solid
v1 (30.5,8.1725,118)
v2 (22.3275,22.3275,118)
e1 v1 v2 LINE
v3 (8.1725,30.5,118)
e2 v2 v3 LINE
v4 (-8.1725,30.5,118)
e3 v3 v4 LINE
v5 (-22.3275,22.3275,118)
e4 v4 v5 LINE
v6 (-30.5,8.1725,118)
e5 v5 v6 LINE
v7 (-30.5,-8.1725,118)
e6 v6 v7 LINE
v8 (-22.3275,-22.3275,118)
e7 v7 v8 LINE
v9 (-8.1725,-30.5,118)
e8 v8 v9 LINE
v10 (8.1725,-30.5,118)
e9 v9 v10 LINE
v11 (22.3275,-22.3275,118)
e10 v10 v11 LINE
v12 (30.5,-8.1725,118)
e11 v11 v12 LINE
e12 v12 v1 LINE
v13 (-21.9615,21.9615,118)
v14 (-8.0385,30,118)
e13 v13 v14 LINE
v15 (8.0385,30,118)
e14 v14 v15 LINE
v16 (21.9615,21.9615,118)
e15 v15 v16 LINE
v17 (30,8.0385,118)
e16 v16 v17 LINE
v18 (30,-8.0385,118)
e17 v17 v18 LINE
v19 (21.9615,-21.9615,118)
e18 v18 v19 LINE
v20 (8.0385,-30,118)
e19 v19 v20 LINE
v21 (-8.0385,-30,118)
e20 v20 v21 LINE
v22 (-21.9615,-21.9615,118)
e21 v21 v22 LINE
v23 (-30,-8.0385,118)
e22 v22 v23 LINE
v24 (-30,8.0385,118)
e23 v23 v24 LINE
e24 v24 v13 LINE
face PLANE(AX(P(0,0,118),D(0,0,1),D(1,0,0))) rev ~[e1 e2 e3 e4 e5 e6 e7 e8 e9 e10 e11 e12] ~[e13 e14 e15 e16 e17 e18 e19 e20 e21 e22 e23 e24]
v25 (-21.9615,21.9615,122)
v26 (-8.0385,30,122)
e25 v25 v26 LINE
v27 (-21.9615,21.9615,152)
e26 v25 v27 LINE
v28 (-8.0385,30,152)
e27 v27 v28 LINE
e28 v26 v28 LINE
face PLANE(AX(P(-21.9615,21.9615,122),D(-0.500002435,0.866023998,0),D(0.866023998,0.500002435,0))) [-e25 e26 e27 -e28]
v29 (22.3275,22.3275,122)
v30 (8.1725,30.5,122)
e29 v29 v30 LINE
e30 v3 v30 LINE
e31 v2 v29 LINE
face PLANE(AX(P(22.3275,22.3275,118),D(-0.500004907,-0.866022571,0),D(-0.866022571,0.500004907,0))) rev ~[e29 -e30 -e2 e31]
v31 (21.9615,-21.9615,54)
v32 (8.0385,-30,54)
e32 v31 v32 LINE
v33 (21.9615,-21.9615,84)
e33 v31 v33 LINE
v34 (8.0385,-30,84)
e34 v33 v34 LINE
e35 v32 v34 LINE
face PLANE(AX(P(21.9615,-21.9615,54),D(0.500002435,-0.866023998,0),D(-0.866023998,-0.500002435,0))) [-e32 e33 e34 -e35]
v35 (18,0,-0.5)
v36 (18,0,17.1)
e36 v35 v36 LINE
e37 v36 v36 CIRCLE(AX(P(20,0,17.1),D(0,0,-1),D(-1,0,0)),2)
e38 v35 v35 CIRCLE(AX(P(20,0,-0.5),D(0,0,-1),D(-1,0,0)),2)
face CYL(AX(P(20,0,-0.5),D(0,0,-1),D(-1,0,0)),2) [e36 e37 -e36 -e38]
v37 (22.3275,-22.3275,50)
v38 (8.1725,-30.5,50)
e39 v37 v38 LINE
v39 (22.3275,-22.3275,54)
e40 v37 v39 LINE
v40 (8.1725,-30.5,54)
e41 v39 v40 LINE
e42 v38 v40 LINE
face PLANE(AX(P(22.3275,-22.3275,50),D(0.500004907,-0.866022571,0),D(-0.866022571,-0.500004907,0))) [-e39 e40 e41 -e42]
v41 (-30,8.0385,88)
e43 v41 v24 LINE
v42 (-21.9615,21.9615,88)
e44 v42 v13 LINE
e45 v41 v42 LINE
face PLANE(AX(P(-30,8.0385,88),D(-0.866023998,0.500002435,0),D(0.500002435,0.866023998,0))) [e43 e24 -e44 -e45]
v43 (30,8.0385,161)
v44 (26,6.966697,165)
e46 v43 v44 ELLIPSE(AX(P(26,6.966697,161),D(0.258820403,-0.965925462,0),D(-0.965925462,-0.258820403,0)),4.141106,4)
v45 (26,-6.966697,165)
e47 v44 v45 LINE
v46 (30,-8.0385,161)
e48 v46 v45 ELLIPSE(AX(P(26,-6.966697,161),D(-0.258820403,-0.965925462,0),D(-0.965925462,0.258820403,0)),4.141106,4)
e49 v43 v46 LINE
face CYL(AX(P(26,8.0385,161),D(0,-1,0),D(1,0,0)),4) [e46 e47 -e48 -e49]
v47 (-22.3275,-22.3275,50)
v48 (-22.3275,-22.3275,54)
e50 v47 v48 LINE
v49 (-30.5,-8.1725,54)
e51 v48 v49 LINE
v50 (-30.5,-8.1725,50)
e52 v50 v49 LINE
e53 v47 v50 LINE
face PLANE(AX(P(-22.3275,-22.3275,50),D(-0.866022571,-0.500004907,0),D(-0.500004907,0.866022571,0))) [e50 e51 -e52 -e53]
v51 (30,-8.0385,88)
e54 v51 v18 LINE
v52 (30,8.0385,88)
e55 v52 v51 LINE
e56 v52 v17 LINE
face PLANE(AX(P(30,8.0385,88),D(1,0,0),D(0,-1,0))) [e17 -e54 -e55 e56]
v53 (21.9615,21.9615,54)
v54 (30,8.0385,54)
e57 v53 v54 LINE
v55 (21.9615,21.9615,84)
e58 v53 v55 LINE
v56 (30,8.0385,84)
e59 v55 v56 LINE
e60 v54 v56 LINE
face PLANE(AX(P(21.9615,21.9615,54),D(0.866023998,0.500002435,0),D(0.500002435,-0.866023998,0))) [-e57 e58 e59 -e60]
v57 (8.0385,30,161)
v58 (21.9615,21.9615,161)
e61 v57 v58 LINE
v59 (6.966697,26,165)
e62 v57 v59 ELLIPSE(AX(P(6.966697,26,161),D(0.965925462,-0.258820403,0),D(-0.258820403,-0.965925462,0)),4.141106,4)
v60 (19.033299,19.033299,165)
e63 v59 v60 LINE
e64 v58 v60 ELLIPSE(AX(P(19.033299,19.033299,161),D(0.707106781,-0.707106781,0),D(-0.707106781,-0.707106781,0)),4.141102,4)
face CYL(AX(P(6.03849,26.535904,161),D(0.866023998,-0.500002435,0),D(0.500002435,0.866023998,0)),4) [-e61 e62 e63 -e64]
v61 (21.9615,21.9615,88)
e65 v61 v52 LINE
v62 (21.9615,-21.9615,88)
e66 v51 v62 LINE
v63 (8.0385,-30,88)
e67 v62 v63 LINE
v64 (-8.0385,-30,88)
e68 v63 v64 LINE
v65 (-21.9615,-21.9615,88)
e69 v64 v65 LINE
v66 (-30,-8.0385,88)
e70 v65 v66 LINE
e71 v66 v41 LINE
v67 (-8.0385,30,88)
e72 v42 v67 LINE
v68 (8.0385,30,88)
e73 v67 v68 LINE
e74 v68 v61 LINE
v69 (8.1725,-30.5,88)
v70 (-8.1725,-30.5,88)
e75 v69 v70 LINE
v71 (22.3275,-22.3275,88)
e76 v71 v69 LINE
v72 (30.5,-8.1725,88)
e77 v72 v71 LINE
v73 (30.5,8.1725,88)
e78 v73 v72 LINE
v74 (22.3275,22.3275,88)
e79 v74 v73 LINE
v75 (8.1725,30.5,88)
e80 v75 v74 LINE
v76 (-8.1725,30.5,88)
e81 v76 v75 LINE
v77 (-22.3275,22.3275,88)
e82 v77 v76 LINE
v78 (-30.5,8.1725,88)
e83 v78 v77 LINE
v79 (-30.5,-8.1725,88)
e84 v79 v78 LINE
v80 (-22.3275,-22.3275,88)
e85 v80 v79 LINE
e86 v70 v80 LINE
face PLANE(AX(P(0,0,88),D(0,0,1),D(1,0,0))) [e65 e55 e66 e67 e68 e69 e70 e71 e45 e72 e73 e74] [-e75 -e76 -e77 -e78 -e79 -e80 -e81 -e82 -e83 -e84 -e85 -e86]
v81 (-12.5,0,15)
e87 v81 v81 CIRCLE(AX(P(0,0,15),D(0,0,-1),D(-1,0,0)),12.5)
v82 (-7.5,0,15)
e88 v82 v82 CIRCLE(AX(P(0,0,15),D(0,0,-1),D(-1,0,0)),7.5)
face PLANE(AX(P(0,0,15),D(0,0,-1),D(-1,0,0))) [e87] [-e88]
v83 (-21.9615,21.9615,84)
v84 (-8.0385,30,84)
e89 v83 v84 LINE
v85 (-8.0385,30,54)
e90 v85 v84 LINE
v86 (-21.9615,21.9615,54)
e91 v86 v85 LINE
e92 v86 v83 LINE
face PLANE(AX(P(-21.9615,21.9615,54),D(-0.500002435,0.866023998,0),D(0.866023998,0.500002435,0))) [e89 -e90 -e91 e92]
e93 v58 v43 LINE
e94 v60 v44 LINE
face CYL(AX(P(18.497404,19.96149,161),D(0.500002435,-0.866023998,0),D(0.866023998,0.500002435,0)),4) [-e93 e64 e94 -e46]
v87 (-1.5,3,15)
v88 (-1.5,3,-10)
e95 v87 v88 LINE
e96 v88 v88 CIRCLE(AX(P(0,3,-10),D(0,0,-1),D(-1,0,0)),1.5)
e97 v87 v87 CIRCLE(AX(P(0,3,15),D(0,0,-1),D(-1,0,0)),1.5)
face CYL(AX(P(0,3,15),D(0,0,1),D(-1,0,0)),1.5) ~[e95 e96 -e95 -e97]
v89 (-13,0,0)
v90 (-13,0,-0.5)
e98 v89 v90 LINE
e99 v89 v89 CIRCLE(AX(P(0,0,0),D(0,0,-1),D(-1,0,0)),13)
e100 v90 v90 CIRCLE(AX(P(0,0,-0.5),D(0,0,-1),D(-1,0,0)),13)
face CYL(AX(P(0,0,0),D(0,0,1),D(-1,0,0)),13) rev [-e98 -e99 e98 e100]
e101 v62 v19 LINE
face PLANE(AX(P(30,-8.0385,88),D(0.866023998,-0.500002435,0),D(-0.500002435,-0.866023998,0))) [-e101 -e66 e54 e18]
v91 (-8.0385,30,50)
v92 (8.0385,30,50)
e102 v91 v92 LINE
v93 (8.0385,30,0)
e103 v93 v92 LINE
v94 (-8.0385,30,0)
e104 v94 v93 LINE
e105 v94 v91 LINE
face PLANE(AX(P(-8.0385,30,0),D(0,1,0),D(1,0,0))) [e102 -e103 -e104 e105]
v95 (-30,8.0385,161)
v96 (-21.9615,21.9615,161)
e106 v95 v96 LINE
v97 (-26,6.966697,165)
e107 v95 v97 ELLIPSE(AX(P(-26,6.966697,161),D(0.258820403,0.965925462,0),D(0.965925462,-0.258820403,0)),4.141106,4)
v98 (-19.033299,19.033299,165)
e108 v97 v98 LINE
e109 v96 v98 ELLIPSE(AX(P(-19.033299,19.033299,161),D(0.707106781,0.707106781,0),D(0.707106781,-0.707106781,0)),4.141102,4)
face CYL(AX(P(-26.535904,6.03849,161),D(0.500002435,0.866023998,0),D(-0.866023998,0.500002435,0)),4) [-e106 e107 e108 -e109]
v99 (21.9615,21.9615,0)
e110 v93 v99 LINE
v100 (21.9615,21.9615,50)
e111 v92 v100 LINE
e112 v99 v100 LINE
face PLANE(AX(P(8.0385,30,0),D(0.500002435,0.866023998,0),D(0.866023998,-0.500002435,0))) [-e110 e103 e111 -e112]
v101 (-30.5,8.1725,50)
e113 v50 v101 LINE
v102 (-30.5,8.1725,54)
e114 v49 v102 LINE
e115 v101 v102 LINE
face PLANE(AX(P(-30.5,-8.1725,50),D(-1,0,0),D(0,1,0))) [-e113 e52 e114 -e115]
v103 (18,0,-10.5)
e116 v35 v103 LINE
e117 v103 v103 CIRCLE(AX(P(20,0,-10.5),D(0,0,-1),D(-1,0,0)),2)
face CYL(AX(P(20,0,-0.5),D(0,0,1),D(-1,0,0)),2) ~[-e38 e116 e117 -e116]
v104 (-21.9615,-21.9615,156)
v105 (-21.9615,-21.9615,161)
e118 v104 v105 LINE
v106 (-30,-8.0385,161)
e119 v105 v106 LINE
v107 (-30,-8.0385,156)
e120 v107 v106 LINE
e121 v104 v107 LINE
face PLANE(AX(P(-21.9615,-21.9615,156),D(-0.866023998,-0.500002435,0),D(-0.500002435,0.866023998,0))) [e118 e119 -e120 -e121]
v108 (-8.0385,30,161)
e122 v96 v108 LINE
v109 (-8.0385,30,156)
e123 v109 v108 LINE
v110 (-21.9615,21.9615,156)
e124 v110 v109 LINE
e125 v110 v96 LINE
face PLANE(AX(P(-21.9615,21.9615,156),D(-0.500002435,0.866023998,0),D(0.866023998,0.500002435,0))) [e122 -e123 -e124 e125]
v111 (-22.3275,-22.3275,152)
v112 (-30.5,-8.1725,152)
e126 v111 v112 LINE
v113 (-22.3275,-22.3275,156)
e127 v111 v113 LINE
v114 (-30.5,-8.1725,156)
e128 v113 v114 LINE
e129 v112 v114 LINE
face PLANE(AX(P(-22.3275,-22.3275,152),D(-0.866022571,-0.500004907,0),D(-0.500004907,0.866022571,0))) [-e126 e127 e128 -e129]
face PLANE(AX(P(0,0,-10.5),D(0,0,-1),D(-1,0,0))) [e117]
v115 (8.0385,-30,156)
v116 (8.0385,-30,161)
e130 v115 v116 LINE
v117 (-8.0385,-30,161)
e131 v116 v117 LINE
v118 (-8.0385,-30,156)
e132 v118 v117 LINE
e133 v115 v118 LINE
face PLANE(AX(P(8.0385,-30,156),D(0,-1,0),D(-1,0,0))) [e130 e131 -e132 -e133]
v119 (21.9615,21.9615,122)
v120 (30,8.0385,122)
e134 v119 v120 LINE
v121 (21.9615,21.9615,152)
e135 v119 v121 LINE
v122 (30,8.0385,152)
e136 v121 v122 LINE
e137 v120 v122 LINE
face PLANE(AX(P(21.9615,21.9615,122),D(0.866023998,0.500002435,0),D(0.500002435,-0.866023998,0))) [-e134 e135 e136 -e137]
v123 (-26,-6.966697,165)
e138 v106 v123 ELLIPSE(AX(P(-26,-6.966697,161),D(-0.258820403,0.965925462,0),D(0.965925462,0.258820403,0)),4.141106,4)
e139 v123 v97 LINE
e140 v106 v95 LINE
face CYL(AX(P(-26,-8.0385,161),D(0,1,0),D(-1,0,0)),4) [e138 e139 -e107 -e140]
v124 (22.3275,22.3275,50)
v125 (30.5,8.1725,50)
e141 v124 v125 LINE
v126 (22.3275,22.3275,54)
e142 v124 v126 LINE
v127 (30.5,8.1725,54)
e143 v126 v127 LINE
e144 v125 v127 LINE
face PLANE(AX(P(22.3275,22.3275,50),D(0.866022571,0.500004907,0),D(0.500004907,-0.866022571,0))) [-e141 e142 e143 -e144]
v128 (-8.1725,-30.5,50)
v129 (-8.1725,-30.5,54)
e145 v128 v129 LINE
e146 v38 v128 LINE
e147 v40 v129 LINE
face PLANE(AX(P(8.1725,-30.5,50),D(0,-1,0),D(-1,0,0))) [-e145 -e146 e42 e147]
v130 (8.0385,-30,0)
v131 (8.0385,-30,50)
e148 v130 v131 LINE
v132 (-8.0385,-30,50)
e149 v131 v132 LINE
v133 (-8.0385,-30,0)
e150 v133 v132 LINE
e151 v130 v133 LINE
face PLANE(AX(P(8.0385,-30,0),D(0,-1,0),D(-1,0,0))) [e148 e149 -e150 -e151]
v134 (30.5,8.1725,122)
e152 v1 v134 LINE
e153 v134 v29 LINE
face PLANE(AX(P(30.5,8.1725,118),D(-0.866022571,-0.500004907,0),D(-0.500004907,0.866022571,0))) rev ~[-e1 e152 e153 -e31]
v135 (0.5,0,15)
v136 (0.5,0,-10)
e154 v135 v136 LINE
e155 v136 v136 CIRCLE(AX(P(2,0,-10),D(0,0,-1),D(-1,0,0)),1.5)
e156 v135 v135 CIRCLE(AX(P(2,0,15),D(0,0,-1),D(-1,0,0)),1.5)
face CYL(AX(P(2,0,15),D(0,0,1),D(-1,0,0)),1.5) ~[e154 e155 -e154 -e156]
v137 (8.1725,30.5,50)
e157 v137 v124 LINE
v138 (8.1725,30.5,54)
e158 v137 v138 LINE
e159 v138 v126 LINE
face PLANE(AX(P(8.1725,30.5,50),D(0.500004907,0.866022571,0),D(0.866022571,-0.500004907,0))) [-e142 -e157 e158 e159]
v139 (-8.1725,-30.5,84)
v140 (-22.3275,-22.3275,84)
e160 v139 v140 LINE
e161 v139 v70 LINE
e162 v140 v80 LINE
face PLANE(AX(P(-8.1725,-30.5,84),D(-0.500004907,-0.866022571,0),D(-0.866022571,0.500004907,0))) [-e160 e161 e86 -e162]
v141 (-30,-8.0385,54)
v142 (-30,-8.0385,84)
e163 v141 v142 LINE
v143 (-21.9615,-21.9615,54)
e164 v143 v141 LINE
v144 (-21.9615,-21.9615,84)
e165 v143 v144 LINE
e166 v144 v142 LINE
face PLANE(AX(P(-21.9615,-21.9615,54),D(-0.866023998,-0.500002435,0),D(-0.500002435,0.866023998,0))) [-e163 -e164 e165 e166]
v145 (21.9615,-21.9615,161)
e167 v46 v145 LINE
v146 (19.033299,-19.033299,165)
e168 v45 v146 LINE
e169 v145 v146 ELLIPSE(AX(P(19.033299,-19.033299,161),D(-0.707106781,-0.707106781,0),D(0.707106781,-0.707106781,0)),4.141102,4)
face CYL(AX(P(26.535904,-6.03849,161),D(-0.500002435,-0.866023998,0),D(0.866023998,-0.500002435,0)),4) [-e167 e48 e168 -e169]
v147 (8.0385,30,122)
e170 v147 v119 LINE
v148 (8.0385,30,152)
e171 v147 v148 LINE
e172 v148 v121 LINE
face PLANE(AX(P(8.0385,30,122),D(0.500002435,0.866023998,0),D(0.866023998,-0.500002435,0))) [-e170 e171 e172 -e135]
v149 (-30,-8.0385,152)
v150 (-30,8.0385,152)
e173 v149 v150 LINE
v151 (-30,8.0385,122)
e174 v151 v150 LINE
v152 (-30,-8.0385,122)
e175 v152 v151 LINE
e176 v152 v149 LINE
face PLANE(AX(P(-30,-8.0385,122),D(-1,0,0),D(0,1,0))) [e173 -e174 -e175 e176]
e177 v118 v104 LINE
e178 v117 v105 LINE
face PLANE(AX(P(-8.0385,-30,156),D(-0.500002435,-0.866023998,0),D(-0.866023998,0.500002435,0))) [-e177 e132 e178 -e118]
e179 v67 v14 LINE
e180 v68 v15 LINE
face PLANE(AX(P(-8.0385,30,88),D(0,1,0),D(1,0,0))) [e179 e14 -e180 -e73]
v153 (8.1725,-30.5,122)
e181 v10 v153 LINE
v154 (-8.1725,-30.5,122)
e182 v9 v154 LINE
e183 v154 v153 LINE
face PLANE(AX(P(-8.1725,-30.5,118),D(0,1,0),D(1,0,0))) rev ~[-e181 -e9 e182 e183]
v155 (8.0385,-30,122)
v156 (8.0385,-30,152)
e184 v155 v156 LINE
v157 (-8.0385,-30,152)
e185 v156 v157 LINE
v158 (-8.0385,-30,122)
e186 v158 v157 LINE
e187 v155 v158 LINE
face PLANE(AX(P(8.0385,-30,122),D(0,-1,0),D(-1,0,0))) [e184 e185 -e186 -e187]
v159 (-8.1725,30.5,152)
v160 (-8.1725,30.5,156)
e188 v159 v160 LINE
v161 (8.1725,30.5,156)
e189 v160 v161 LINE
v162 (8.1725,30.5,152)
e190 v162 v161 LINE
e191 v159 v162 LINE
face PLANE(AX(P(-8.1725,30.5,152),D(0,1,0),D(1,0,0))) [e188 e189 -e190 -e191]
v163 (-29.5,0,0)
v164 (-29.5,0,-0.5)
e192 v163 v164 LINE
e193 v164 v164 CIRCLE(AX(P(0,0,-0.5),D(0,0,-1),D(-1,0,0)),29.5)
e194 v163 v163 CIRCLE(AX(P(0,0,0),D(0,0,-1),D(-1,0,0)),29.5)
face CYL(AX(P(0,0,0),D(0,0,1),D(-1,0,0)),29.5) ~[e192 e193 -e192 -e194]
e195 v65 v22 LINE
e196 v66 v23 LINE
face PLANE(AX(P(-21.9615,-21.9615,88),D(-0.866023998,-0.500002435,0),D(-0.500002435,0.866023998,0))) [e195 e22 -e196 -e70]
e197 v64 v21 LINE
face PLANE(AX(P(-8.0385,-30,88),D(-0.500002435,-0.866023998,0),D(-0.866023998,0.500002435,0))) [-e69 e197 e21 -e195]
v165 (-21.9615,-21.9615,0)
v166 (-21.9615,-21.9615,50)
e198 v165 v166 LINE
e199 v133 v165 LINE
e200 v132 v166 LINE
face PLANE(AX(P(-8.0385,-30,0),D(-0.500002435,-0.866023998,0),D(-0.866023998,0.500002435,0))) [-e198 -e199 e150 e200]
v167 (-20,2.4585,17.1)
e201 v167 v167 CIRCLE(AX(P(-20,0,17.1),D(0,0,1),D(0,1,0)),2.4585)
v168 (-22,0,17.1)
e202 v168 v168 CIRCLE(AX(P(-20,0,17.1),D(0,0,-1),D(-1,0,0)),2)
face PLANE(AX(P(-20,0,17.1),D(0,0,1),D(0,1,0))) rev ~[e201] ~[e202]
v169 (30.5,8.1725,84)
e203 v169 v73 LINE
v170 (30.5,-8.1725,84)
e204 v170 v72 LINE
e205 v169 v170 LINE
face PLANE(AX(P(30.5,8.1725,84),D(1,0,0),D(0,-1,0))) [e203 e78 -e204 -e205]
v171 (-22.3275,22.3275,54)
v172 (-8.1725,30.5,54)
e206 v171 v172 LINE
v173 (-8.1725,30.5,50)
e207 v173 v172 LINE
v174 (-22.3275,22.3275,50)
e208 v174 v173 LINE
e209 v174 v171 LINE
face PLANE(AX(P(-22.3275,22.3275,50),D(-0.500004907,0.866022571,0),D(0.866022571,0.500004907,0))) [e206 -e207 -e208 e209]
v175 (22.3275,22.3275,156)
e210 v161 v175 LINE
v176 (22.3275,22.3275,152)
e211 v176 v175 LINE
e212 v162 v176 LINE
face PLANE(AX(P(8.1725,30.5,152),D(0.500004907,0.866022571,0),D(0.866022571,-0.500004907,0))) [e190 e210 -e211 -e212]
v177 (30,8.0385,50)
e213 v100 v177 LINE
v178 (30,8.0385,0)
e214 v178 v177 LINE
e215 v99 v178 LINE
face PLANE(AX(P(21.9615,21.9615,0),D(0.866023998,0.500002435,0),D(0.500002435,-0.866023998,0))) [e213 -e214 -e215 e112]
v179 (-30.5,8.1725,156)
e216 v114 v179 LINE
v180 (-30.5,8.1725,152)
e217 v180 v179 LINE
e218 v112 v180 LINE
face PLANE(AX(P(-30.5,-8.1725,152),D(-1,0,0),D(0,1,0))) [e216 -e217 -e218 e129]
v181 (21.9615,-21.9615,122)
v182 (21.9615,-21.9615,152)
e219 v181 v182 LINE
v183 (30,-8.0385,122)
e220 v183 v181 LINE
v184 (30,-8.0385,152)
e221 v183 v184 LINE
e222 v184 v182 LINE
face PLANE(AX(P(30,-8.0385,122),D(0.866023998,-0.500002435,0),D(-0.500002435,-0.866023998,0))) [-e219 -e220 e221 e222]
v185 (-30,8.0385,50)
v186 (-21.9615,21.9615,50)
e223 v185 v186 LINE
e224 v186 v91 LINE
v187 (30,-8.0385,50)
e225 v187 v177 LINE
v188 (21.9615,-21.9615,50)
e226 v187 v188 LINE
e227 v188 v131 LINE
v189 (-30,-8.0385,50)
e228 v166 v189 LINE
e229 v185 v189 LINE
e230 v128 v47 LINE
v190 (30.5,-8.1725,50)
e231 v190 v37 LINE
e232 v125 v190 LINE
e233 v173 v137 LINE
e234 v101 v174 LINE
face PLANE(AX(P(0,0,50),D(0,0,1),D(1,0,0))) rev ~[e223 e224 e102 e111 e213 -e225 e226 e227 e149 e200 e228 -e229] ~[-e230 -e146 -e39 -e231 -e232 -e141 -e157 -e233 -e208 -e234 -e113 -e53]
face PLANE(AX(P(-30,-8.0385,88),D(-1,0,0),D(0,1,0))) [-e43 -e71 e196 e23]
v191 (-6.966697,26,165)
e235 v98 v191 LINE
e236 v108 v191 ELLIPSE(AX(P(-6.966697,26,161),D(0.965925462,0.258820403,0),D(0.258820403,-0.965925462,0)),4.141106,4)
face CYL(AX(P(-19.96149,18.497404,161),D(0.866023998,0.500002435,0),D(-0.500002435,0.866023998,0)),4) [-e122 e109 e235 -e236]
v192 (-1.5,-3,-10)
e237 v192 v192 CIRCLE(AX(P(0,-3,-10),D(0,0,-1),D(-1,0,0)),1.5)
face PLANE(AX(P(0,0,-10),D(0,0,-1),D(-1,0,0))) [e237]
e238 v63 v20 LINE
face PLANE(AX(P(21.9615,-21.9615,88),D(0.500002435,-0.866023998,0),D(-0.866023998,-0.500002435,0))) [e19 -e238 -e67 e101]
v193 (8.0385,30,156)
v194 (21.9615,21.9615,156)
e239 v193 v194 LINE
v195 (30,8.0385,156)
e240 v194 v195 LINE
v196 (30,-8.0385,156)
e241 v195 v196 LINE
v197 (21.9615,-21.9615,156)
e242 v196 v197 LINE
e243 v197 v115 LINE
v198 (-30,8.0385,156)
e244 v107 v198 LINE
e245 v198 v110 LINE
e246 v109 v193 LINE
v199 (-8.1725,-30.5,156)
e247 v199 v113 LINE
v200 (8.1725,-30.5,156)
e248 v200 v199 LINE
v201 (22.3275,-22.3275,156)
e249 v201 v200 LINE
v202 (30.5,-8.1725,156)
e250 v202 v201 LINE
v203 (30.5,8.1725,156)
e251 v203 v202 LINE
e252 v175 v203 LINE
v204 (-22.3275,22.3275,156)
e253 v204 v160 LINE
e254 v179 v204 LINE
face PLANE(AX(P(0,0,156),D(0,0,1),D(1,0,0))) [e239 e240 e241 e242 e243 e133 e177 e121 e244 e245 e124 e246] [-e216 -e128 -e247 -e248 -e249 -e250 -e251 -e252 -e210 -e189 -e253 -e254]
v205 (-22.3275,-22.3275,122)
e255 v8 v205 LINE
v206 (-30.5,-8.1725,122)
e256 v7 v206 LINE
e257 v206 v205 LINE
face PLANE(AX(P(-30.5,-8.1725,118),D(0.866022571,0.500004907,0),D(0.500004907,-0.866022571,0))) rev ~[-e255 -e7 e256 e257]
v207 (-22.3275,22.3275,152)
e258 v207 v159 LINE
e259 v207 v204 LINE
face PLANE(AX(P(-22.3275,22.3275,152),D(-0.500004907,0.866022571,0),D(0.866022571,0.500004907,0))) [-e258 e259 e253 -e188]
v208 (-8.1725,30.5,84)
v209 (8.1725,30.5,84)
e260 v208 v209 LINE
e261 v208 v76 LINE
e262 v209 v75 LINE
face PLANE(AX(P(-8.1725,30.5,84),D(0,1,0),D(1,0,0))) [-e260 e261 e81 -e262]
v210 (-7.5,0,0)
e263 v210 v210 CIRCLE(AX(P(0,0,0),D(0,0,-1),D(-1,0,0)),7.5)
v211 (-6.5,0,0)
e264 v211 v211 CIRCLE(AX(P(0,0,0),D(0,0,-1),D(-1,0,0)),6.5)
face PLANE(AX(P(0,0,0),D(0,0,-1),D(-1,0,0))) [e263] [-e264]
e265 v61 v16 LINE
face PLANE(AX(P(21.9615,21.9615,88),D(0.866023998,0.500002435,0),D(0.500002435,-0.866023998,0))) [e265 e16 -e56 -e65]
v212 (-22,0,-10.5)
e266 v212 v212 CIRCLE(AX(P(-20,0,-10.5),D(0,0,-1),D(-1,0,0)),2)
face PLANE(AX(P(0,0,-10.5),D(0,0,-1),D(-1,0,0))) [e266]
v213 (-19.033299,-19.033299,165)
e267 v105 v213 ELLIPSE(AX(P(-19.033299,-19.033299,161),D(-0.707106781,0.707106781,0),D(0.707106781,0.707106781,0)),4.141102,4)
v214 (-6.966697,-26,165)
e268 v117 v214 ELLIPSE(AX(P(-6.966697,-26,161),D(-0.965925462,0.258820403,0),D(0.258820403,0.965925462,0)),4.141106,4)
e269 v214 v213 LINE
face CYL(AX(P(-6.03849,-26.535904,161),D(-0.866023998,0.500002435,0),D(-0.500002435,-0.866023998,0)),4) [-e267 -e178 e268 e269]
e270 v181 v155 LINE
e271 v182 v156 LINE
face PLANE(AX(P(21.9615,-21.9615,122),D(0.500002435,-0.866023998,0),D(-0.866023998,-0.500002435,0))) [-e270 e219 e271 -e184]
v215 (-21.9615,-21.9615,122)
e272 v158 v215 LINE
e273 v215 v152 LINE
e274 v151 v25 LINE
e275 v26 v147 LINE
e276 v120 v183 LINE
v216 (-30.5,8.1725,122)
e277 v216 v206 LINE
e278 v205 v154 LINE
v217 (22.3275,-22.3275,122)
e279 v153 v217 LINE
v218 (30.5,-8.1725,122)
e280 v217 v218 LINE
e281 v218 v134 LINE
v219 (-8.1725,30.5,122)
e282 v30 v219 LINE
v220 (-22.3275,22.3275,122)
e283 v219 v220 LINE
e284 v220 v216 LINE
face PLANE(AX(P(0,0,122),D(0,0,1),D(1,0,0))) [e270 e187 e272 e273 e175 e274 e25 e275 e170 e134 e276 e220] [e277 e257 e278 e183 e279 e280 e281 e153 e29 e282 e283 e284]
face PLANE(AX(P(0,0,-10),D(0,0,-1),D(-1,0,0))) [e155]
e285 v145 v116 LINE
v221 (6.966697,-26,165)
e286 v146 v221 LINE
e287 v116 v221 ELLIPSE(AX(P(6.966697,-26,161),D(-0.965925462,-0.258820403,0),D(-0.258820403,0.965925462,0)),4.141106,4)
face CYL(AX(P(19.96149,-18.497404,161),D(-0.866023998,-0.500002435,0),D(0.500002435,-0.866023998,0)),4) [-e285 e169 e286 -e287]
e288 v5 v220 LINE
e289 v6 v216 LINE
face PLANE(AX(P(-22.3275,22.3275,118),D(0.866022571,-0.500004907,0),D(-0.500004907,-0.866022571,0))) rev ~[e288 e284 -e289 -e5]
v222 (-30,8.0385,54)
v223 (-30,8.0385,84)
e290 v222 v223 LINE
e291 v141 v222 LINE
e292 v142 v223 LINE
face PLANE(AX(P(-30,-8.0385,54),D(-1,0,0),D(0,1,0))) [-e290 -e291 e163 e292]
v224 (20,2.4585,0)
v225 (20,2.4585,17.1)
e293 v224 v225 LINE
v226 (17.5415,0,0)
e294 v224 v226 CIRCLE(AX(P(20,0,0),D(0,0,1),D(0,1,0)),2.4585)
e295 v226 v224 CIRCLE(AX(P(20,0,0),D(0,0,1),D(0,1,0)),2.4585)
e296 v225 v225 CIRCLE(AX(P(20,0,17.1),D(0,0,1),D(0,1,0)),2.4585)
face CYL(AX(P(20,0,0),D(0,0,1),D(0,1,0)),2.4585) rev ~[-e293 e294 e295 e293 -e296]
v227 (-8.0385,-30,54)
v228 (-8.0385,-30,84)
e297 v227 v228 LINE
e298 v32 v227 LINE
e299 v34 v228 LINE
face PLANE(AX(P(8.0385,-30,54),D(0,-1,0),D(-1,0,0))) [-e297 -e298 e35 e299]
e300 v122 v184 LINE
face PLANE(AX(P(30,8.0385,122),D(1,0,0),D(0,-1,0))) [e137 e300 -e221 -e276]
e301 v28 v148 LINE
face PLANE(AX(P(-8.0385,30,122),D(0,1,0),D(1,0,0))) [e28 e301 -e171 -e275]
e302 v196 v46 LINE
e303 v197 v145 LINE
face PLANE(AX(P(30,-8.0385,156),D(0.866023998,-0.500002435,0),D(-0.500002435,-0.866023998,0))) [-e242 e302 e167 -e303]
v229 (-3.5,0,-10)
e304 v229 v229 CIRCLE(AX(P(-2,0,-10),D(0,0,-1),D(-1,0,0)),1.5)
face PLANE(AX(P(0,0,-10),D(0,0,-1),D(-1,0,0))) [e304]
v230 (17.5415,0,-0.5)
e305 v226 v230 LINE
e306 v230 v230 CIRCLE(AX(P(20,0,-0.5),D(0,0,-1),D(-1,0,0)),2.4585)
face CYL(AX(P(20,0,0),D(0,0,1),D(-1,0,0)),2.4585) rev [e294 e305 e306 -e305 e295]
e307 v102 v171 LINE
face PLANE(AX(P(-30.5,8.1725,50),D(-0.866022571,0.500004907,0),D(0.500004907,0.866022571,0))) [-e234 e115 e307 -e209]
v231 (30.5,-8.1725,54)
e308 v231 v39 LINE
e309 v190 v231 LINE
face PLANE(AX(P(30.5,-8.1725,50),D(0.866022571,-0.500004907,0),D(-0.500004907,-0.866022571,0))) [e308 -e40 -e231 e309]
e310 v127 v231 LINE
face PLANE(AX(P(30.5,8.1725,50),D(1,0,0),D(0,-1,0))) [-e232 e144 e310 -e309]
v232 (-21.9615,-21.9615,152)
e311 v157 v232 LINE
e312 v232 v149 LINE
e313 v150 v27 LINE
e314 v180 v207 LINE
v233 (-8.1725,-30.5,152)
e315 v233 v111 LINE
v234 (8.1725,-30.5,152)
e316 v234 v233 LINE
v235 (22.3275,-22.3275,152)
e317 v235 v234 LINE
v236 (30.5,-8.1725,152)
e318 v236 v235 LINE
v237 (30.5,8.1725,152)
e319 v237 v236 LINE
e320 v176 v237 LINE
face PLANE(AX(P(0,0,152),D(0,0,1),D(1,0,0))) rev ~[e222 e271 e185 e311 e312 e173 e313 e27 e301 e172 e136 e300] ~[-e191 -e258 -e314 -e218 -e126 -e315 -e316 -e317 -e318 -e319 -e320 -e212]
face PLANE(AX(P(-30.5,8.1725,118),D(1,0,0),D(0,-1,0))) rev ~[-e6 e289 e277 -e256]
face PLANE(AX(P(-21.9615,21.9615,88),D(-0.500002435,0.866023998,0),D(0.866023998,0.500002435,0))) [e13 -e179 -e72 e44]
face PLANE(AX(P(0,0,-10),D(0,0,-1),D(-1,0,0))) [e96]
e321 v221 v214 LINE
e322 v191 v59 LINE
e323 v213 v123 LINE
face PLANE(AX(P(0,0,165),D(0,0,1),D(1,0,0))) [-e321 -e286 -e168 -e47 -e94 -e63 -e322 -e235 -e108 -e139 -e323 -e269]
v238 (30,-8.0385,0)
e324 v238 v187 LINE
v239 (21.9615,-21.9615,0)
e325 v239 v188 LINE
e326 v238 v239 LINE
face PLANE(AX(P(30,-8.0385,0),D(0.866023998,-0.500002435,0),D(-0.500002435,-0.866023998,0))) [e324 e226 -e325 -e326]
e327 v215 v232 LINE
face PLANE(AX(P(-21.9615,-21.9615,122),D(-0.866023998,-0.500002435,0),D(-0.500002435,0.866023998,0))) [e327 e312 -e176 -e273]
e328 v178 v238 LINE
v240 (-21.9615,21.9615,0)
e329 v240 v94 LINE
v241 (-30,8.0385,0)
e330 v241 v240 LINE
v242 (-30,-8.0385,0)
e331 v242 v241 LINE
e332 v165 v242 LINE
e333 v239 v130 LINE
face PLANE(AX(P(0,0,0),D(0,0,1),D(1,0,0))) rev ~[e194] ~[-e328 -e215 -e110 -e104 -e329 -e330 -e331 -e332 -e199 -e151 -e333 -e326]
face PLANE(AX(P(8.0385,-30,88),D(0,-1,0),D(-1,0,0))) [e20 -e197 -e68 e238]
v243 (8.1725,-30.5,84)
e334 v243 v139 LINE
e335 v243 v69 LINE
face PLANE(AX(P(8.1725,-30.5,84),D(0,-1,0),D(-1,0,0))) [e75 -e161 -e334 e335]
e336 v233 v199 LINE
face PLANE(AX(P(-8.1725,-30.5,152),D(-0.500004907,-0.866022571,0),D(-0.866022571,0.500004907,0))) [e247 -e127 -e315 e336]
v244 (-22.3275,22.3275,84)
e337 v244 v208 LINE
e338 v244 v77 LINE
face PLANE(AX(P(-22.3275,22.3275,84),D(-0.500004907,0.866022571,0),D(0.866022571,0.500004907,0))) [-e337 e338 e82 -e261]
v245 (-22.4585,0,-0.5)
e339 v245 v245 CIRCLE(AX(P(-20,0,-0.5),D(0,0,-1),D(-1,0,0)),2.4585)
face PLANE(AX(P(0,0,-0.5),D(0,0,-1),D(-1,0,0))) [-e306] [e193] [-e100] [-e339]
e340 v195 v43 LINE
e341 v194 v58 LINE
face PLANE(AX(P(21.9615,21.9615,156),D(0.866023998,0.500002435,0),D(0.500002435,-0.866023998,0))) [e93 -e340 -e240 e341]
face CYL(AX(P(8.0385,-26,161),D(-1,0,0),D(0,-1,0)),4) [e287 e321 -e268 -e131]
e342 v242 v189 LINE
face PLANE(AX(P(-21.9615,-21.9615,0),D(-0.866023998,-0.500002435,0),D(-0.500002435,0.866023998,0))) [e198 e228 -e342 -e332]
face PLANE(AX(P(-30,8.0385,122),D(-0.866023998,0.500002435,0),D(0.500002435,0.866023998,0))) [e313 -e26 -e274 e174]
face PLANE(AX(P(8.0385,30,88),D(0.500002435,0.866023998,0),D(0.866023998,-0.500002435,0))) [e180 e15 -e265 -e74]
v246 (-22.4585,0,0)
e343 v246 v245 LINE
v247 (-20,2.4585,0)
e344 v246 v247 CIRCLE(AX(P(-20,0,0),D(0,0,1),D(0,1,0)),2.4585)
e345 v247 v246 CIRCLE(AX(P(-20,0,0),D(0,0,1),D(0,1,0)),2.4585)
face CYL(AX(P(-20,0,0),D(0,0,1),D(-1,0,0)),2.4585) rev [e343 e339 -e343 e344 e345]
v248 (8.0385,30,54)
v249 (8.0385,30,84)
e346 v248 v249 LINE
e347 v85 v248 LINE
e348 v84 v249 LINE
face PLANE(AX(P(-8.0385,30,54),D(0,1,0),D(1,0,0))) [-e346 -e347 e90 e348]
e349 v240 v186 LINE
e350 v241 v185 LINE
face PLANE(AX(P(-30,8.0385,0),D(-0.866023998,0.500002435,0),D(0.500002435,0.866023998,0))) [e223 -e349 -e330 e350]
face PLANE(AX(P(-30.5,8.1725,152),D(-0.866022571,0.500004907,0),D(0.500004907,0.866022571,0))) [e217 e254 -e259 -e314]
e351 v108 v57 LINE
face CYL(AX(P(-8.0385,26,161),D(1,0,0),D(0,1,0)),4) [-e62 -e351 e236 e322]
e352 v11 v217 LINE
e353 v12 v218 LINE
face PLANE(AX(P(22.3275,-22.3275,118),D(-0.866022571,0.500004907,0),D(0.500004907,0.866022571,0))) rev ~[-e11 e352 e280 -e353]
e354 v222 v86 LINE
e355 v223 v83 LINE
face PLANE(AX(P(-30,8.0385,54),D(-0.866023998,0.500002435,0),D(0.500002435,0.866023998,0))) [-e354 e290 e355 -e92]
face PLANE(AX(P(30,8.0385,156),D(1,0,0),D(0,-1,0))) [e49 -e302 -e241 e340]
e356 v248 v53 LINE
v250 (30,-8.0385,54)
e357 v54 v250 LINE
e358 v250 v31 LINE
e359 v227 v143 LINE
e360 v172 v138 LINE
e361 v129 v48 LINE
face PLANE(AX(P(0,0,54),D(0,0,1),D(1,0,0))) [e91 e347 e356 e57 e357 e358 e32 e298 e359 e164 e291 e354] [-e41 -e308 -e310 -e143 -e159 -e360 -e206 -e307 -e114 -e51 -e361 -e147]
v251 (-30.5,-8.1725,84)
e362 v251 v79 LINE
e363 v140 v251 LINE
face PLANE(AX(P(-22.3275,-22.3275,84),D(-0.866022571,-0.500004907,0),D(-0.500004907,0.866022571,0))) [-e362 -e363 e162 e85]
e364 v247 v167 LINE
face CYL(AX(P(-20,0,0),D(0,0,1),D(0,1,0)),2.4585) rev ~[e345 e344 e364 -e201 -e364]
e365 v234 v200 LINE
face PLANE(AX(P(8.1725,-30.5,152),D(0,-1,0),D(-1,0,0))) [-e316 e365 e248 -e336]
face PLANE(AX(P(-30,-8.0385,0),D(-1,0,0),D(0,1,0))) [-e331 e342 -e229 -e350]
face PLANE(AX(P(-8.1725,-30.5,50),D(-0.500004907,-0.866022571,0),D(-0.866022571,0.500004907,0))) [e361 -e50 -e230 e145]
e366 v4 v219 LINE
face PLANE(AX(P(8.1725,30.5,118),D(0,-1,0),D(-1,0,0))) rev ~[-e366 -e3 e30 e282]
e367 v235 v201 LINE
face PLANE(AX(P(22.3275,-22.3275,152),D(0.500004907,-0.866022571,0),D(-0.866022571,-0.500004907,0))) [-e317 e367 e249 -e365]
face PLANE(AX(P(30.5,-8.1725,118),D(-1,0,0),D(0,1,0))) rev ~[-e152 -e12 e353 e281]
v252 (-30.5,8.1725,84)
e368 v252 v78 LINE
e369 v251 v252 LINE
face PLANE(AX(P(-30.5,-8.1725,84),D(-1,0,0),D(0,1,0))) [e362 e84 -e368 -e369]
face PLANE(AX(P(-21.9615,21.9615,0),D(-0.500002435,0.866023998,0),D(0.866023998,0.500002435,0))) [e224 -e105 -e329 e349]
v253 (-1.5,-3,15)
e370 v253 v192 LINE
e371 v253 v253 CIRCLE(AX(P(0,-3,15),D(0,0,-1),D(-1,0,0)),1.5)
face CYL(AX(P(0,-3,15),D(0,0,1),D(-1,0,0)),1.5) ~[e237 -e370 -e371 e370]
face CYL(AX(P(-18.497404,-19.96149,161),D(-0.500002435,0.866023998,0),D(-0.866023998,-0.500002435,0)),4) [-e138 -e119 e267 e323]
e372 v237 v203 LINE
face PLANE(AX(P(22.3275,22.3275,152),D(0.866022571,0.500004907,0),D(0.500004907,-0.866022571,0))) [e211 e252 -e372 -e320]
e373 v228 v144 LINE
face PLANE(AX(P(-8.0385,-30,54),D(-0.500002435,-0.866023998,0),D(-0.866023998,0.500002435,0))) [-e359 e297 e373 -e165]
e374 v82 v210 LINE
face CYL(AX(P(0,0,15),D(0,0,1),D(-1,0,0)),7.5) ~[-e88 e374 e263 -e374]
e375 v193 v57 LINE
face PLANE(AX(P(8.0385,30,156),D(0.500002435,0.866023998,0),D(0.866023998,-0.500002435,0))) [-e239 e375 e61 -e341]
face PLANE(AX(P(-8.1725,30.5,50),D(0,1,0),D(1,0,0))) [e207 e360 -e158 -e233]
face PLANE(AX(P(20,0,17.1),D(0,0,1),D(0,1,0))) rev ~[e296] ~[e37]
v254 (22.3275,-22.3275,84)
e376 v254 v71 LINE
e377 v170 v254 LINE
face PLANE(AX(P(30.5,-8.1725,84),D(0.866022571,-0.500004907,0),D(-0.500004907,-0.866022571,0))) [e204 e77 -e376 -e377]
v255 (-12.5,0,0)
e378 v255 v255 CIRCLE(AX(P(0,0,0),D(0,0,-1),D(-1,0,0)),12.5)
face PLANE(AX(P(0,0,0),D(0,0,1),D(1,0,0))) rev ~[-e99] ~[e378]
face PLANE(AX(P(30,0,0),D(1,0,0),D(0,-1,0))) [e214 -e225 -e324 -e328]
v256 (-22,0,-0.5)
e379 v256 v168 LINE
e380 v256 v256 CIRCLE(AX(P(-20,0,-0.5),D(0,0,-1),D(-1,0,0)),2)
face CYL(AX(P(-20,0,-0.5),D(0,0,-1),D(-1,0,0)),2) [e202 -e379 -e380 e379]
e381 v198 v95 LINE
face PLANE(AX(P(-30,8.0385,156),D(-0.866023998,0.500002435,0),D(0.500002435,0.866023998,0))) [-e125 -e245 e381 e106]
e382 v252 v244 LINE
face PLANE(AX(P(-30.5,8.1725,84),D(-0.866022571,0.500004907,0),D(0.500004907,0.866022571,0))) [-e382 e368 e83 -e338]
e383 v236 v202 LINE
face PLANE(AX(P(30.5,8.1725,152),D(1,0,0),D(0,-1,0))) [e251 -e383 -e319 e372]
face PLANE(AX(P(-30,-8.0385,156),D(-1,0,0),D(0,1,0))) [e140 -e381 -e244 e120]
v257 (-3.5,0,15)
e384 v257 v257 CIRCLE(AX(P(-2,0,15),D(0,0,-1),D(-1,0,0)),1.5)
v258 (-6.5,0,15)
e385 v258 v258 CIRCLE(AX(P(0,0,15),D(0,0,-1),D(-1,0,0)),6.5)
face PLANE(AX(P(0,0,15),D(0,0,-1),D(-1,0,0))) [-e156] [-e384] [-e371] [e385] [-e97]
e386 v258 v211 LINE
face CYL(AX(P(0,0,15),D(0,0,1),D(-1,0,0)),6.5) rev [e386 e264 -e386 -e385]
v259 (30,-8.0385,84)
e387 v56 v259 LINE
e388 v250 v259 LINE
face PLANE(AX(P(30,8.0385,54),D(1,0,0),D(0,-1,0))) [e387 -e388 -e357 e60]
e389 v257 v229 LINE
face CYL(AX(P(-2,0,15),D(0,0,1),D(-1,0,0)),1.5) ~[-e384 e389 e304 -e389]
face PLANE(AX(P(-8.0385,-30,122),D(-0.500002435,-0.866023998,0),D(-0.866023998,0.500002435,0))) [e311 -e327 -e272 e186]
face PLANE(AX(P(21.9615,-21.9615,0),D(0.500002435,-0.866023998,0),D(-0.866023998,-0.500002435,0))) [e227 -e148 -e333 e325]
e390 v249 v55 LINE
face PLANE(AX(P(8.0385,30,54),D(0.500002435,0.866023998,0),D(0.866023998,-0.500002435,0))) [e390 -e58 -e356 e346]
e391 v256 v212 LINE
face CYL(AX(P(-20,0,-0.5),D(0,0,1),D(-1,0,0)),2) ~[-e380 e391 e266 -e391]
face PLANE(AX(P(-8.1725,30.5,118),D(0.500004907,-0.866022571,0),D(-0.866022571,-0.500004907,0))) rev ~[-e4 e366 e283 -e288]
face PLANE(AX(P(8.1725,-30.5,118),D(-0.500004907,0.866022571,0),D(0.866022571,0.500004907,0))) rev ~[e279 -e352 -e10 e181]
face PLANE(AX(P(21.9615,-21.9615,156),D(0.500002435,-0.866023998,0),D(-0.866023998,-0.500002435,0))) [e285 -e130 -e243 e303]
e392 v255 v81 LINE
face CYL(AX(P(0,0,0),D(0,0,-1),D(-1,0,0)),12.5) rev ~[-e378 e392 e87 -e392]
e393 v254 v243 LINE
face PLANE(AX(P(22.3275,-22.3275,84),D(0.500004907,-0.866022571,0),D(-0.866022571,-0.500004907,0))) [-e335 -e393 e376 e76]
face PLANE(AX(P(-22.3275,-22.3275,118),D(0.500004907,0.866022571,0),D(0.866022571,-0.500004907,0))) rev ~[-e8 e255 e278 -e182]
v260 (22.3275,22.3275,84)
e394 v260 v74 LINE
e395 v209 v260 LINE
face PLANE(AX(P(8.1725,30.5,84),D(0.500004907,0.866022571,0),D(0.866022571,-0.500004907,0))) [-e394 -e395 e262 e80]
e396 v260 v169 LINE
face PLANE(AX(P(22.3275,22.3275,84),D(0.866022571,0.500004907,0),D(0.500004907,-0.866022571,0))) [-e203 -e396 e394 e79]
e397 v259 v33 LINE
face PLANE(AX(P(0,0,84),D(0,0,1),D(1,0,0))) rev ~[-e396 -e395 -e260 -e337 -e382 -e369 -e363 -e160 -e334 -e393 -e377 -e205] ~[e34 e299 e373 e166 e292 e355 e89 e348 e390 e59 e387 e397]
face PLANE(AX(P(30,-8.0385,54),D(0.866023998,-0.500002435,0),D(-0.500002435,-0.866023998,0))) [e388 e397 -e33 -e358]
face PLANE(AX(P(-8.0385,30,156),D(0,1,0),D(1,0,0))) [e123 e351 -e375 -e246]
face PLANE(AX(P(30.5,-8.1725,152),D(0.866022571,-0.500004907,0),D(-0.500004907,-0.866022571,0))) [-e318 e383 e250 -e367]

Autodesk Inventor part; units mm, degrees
ref_plane "YZ Plane" through (0, 0, 0) normal (1, 0, 0) x (0, 1, 0)
ref_plane "XZ Plane" through (0, 0, 0) normal (0, 1, 0) x (-1, 0, 0)
ref_plane "XY Plane" through (0, 0, 0) normal (0, 0, 1) x (1, 0, 0)
sketch "Skizze1" plane through (0, 0, 0) normal (0, 0, 1) x (1, 0, 0)
  line L0 (21.9615, -21.9615) -> (8.0385, -30)
  line L1 (8.0385, -30) -> (-8.0385, -30)
  line L2 (-8.0385, -30) -> (-21.9615, -21.9615)
  line L3 (-21.9615, -21.9615) -> (-30, -8.0385)
  line L4 (-30, -8.0385) -> (-30, 8.0385)
  line L5 (-30, 8.0385) -> (-21.9615, 21.9615)
  line L6 (-21.9615, 21.9615) -> (-8.0385, 30)
  line L7 (-8.0385, 30) -> (8.0385, 30)
  line L8 (8.0385, 30) -> (21.9615, 21.9615)
  line L9 (21.9615, 21.9615) -> (30, 8.0385)
  line L10 (30, 8.0385) -> (30, -8.0385)
  line L11 (30, -8.0385) -> (21.9615, -21.9615)
  line L12 (-42, 0) -> (42, 0) projected
  point P0 (0, 0)
  point P1 (0, 0)
  dimension "d0" = 60
extrude "Extrusion1" add sketch "Skizze1" along normal blind 50
sketch "Skizze2" plane through (0, 0, 50) normal (0, 0, 1) x (1, 0, 0)
  line L0 (21.9615, 21.9615) -> (8.0385, 30) projected
  line L1 (8.0385, 30) -> (-8.0385, 30) projected
  line L2 (-8.0385, 30) -> (-21.9615, 21.9615) projected
  line L3 (-21.9615, 21.9615) -> (-30, 8.0385) projected
  line L4 (-30, 8.0385) -> (-30, -8.0385) projected
  line L5 (-30, -8.0385) -> (-21.9615, -21.9615) projected
  line L6 (-21.9615, -21.9615) -> (-8.0385, -30) projected
  line L7 (-8.0385, -30) -> (8.0385, -30) projected
  line L8 (8.0385, -30) -> (21.9615, -21.9615) projected
  line L9 (21.9615, -21.9615) -> (30, -8.0385) projected
  line L10 (30, -8.0385) -> (30, 8.0385) projected
  line L11 (30, 8.0385) -> (21.9615, 21.9615) projected
  line L12 (-22.3275, 22.3275) -> (-8.1725, 30.5)
  line L13 (-8.1725, 30.5) -> (8.1725, 30.5)
  line L14 (8.1725, 30.5) -> (22.3275, 22.3275)
  line L15 (22.3275, 22.3275) -> (30.5, 8.1725)
  line L16 (30.5, 8.1725) -> (30.5, -8.1725)
  line L17 (30.5, -8.1725) -> (22.3275, -22.3275)
  line L18 (22.3275, -22.3275) -> (8.1725, -30.5)
  line L19 (8.1725, -30.5) -> (-8.1725, -30.5)
  line L20 (-8.1725, -30.5) -> (-22.3275, -22.3275)
  line L21 (-22.3275, -22.3275) -> (-30.5, -8.1725)
  line L22 (-30.5, -8.1725) -> (-30.5, 8.1725)
  line L23 (-30.5, 8.1725) -> (-22.3275, 22.3275)
  point P0 (0, 0)
  dimension "d3" = 0.5
extrude "Extrusion2" add sketch "Skizze2" along normal blind 4 contours L11 L10 L9 L8 L7 L6 L5 L4 L3 L2 L1 L0 | L12 L13 L14 L15 L16 L17 L18 L19 L20 L21 L22 L23
sketch "Skizze3" plane through (0, 0, 54) normal (0, 0, 1) x (1, 0, 0)
  line L0 (-30.5, 8.1725) -> (-30.5, -8.1725) projected
  line L1 (-30.5, -8.1725) -> (-22.3275, -22.3275) projected
  line L2 (-22.3275, -22.3275) -> (-8.1725, -30.5) projected
  line L3 (-8.1725, -30.5) -> (8.1725, -30.5) projected
  line L4 (8.1725, -30.5) -> (22.3275, -22.3275) projected
  line L5 (22.3275, -22.3275) -> (30.5, -8.1725) projected
  line L6 (30.5, -8.1725) -> (30.5, 8.1725) projected
  line L7 (30.5, 8.1725) -> (22.3275, 22.3275) projected
  line L8 (22.3275, 22.3275) -> (8.1725, 30.5) projected
  line L9 (8.1725, 30.5) -> (-8.1725, 30.5) projected
  line L10 (-8.1725, 30.5) -> (-22.3275, 22.3275) projected
  line L11 (-22.3275, 22.3275) -> (-30.5, 8.1725) projected
  line L12 (-30, -8.0385) -> (-30, 8.0385)
  line L13 (-30, 8.0385) -> (-21.9615, 21.9615)
  line L14 (-21.9615, 21.9615) -> (-8.0385, 30)
  line L15 (-8.0385, 30) -> (8.0385, 30)
  line L16 (8.0385, 30) -> (21.9615, 21.9615)
  line L17 (21.9615, 21.9615) -> (30, 8.0385)
  line L18 (30, 8.0385) -> (30, -8.0385)
  line L19 (30, -8.0385) -> (21.9615, -21.9615)
  line L20 (21.9615, -21.9615) -> (8.0385, -30)
  line L21 (8.0385, -30) -> (-8.0385, -30)
  line L22 (-8.0385, -30) -> (-21.9615, -21.9615)
  line L23 (-21.9615, -21.9615) -> (-30, -8.0385)
  point P0 (0, 0)
  dimension "d6" = 0.5
extrude "Extrusion3" add sketch "Skizze3" along normal blind 30 contours L12 L13 L14 L15 L16 L17 L18 L19 L20 L21 L22 L23
sketch "Skizze4" plane through (0, 0, 84) normal (0, 0, 1) x (1, 0, 0)
  line L0 (-21.9615, -21.9615) -> (-8.0385, -30) projected
  line L1 (-8.0385, -30) -> (8.0385, -30) projected
  line L2 (8.0385, -30) -> (21.9615, -21.9615) projected
  line L3 (21.9615, -21.9615) -> (30, -8.0385) projected
  line L4 (30, -8.0385) -> (30, 8.0385) projected
  line L5 (30, 8.0385) -> (21.9615, 21.9615) projected
  line L6 (21.9615, 21.9615) -> (8.0385, 30) projected
  line L7 (8.0385, 30) -> (-8.0385, 30) projected
  line L8 (-8.0385, 30) -> (-21.9615, 21.9615) projected
  line L9 (-21.9615, 21.9615) -> (-30, 8.0385) projected
  line L10 (-30, 8.0385) -> (-30, -8.0385) projected
  line L11 (-30, -8.0385) -> (-21.9615, -21.9615) projected
  line L12 (-30.5, -8.1725) -> (-30.5, 8.1725)
  line L13 (-30.5, 8.1725) -> (-22.3275, 22.3275)
  line L14 (-22.3275, 22.3275) -> (-8.1725, 30.5)
  line L15 (-8.1725, 30.5) -> (8.1725, 30.5)
  line L16 (8.1725, 30.5) -> (22.3275, 22.3275)
  line L17 (22.3275, 22.3275) -> (30.5, 8.1725)
  line L18 (30.5, 8.1725) -> (30.5, -8.1725)
  line L19 (30.5, -8.1725) -> (22.3275, -22.3275)
  line L20 (22.3275, -22.3275) -> (8.1725, -30.5)
  line L21 (8.1725, -30.5) -> (-8.1725, -30.5)
  line L22 (-8.1725, -30.5) -> (-22.3275, -22.3275)
  line L23 (-22.3275, -22.3275) -> (-30.5, -8.1725)
  point P0 (0, 0)
  dimension "d9" = 0.5
extrude "Extrusion4" add sketch "Skizze4" along normal blind 4 contours L11 L10 L9 L8 L7 L6 L5 L4 L3 L2 L1 L0 | L12 L13 L14 L15 L16 L17 L18 L19 L20 L21 L22 L23
sketch "Skizze5" plane through (0, 0, 88) normal (0, 0, 1) x (1, 0, 0)
  line L0 (-22.3275, -22.3275) -> (-8.1725, -30.5) projected
  line L1 (-8.1725, -30.5) -> (8.1725, -30.5) projected
  line L2 (8.1725, -30.5) -> (22.3275, -22.3275) projected
  line L3 (22.3275, -22.3275) -> (30.5, -8.1725) projected
  line L4 (30.5, -8.1725) -> (30.5, 8.1725) projected
  line L5 (30.5, 8.1725) -> (22.3275, 22.3275) projected
  line L6 (22.3275, 22.3275) -> (8.1725, 30.5) projected
  line L7 (8.1725, 30.5) -> (-8.1725, 30.5) projected
  line L8 (-8.1725, 30.5) -> (-22.3275, 22.3275) projected
  line L9 (-22.3275, 22.3275) -> (-30.5, 8.1725) projected
  line L10 (-30.5, 8.1725) -> (-30.5, -8.1725) projected
  line L11 (-30.5, -8.1725) -> (-22.3275, -22.3275) projected
  line L12 (-30, -8.0385) -> (-30, 8.0385)
  line L13 (-30, 8.0385) -> (-21.9615, 21.9615)
  line L14 (-21.9615, 21.9615) -> (-8.0385, 30)
  line L15 (-8.0385, 30) -> (8.0385, 30)
  line L16 (8.0385, 30) -> (21.9615, 21.9615)
  line L17 (21.9615, 21.9615) -> (30, 8.0385)
  line L18 (30, 8.0385) -> (30, -8.0385)
  line L19 (30, -8.0385) -> (21.9615, -21.9615)
  line L20 (21.9615, -21.9615) -> (8.0385, -30)
  line L21 (8.0385, -30) -> (-8.0385, -30)
  line L22 (-8.0385, -30) -> (-21.9615, -21.9615)
  line L23 (-21.9615, -21.9615) -> (-30, -8.0385)
  point P0 (0, 0)
  dimension "d12" = 0.5
extrude "Extrusion5" add sketch "Skizze5" along normal blind 30 contours L12 L13 L14 L15 L16 L17 L18 L19 L20 L21 L22 L23
sketch "Skizze6" plane through (0, 0, 118) normal (0, 0, 1) x (1, 0, 0)
  line L0 (-21.9615, -21.9615) -> (-8.0385, -30) projected
  line L1 (-8.0385, -30) -> (8.0385, -30) projected
  line L2 (8.0385, -30) -> (21.9615, -21.9615) projected
  line L3 (21.9615, -21.9615) -> (30, -8.0385) projected
  line L4 (30, -8.0385) -> (30, 8.0385) projected
  line L5 (30, 8.0385) -> (21.9615, 21.9615) projected
  line L6 (21.9615, 21.9615) -> (8.0385, 30) projected
  line L7 (8.0385, 30) -> (-8.0385, 30) projected
  line L8 (-8.0385, 30) -> (-21.9615, 21.9615) projected
  line L9 (-21.9615, 21.9615) -> (-30, 8.0385) projected
  line L10 (-30, 8.0385) -> (-30, -8.0385) projected
  line L11 (-30, -8.0385) -> (-21.9615, -21.9615) projected
  line L12 (-22.3275, -22.3275) -> (-8.1725, -30.5)
  line L13 (-8.1725, -30.5) -> (8.1725, -30.5)
  line L14 (8.1725, -30.5) -> (22.3275, -22.3275)
  line L15 (22.3275, -22.3275) -> (30.5, -8.1725)
  line L16 (30.5, -8.1725) -> (30.5, 8.1725)
  line L17 (30.5, 8.1725) -> (22.3275, 22.3275)
  line L18 (22.3275, 22.3275) -> (8.1725, 30.5)
  line L19 (8.1725, 30.5) -> (-8.1725, 30.5)
  line L20 (-8.1725, 30.5) -> (-22.3275, 22.3275)
  line L21 (-22.3275, 22.3275) -> (-30.5, 8.1725)
  line L22 (-30.5, 8.1725) -> (-30.5, -8.1725)
  line L23 (-30.5, -8.1725) -> (-22.3275, -22.3275)
  point P0 (0, 0)
  dimension "d15" = 0.5
extrude "Extrusion6" add sketch "Skizze6" along normal blind 4 contours L11 L10 L9 L8 L7 L6 L5 L4 L3 L2 L1 L0 | L23 L22 L21 L20 L19 L18 L17 L16 L15 L14 L13 L12
sketch "Skizze7" plane through (0, 0, 122) normal (0, 0, 1) x (1, 0, 0)
  line L0 (-8.1725, -30.5) -> (8.1725, -30.5) projected
  line L1 (8.1725, -30.5) -> (22.3275, -22.3275) projected
  line L2 (22.3275, -22.3275) -> (30.5, -8.1725) projected
  line L3 (30.5, -8.1725) -> (30.5, 8.1725) projected
  line L4 (30.5, 8.1725) -> (22.3275, 22.3275) projected
  line L5 (22.3275, 22.3275) -> (8.1725, 30.5) projected
  line L6 (8.1725, 30.5) -> (-8.1725, 30.5) projected
  line L7 (-8.1725, 30.5) -> (-22.3275, 22.3275) projected
  line L8 (-22.3275, 22.3275) -> (-30.5, 8.1725) projected
  line L9 (-30.5, 8.1725) -> (-30.5, -8.1725) projected
  line L10 (-30.5, -8.1725) -> (-22.3275, -22.3275) projected
  line L11 (-22.3275, -22.3275) -> (-8.1725, -30.5) projected
  line L12 (-21.9615, -21.9615) -> (-30, -8.0385)
  line L13 (-30, -8.0385) -> (-30, 8.0385)
  line L14 (-30, 8.0385) -> (-21.9615, 21.9615)
  line L15 (-21.9615, 21.9615) -> (-8.0385, 30)
  line L16 (-8.0385, 30) -> (8.0385, 30)
  line L17 (8.0385, 30) -> (21.9615, 21.9615)
  line L18 (21.9615, 21.9615) -> (30, 8.0385)
  line L19 (30, 8.0385) -> (30, -8.0385)
  line L20 (30, -8.0385) -> (21.9615, -21.9615)
  line L21 (21.9615, -21.9615) -> (8.0385, -30)
  line L22 (8.0385, -30) -> (-8.0385, -30)
  line L23 (-8.0385, -30) -> (-21.9615, -21.9615)
  point P0 (0, 0)
  dimension "d18" = 0.5
extrude "Extrusion7" add sketch "Skizze7" along normal blind 30 contours L12 L13 L14 L15 L16 L17 L18 L19 L20 L21 L22 L23
sketch "Skizze8" plane through (0, 0, 152) normal (0, 0, 1) x (1, 0, 0)
  line L0 (-8.0385, -30) -> (8.0385, -30) projected
  line L1 (8.0385, -30) -> (21.9615, -21.9615) projected
  line L2 (21.9615, -21.9615) -> (30, -8.0385) projected
  line L3 (30, -8.0385) -> (30, 8.0385) projected
  line L4 (30, 8.0385) -> (21.9615, 21.9615) projected
  line L5 (21.9615, 21.9615) -> (8.0385, 30) projected
  line L6 (8.0385, 30) -> (-8.0385, 30) projected
  line L7 (-8.0385, 30) -> (-21.9615, 21.9615) projected
  line L8 (-21.9615, 21.9615) -> (-30, 8.0385) projected
  line L9 (-30, 8.0385) -> (-30, -8.0385) projected
  line L10 (-30, -8.0385) -> (-21.9615, -21.9615) projected
  line L11 (-21.9615, -21.9615) -> (-8.0385, -30) projected
  line L12 (-30.5, -8.1725) -> (-30.5, 8.1725)
  line L13 (-30.5, 8.1725) -> (-22.3275, 22.3275)
  line L14 (-22.3275, 22.3275) -> (-8.1725, 30.5)
  line L15 (-8.1725, 30.5) -> (8.1725, 30.5)
  line L16 (8.1725, 30.5) -> (22.3275, 22.3275)
  line L17 (22.3275, 22.3275) -> (30.5, 8.1725)
  line L18 (30.5, 8.1725) -> (30.5, -8.1725)
  line L19 (30.5, -8.1725) -> (22.3275, -22.3275)
  line L20 (22.3275, -22.3275) -> (8.1725, -30.5)
  line L21 (8.1725, -30.5) -> (-8.1725, -30.5)
  line L22 (-8.1725, -30.5) -> (-22.3275, -22.3275)
  line L23 (-22.3275, -22.3275) -> (-30.5, -8.1725)
  point P0 (0, 0)
  dimension "d21" = 0.5
extrude "Extrusion8" add sketch "Skizze8" along normal blind 4 contours L11 L10 L9 L8 L7 L6 L5 L4 L3 L2 L1 L0 | L12 L13 L14 L15 L16 L17 L18 L19 L20 L21 L22 L23
sketch "Skizze9" plane through (0, 0, 156) normal (0, 0, 1) x (1, 0, 0)
  line L0 (-22.3275, -22.3275) -> (-8.1725, -30.5) projected
  line L1 (-8.1725, -30.5) -> (8.1725, -30.5) projected
  line L2 (8.1725, -30.5) -> (22.3275, -22.3275) projected
  line L3 (22.3275, -22.3275) -> (30.5, -8.1725) projected
  line L4 (30.5, -8.1725) -> (30.5, 8.1725) projected
  line L5 (30.5, 8.1725) -> (22.3275, 22.3275) projected
  line L6 (22.3275, 22.3275) -> (8.1725, 30.5) projected
  line L7 (8.1725, 30.5) -> (-8.1725, 30.5) projected
  line L8 (-8.1725, 30.5) -> (-22.3275, 22.3275) projected
  line L9 (-22.3275, 22.3275) -> (-30.5, 8.1725) projected
  line L10 (-30.5, 8.1725) -> (-30.5, -8.1725) projected
  line L11 (-30.5, -8.1725) -> (-22.3275, -22.3275) projected
  line L12 (-30, -8.0385) -> (-30, 8.0385)
  line L13 (-30, 8.0385) -> (-21.9615, 21.9615)
  line L14 (-21.9615, 21.9615) -> (-8.0385, 30)
  line L15 (-8.0385, 30) -> (8.0385, 30)
  line L16 (8.0385, 30) -> (21.9615, 21.9615)
  line L17 (21.9615, 21.9615) -> (30, 8.0385)
  line L18 (30, 8.0385) -> (30, -8.0385)
  line L19 (30, -8.0385) -> (21.9615, -21.9615)
  line L20 (21.9615, -21.9615) -> (8.0385, -30)
  line L21 (8.0385, -30) -> (-8.0385, -30)
  line L22 (-8.0385, -30) -> (-21.9615, -21.9615)
  line L23 (-21.9615, -21.9615) -> (-30, -8.0385)
  point P0 (0, 0)
  dimension "d24" = 0.5
extrude "Extrusion9" add sketch "Skizze9" along normal blind 9 contours L12 L13 L14 L15 L16 L17 L18 L19 L20 L21 L22 L23
fillet "Rundung1" radius 4 12 edges at (25.9808, -15, 165) (30, 0, 165) (25.9808, 15, 165) (15, 25.9808, 165) (0, 30, 165) (-15, 25.9808, 165) (-25.9808, 15, 165) (-30, 0, 165) (-25.9808, -15, 165) (-15, -25.9808, 165) (0, -30, 165) (15, -25.9808, 165)
sketch "Skizze10" plane through (0, 0, 0) normal (0, 0, -1) x (-1, 0, 0)
  point P0 (0, 0)
  point P1 (-20, 0)
  point P2 (20, 0)
  dimension "d35" = 20
  dimension "d36" = 20
hole "Bohrung1" at (20, 0, 0) at (-20, 0, 0) direction (0, 0, 1) diameter 4.917 depth 17.1 thread size "M6x1" class "6H" standard "ISO Metric profile"
sketch "Skizze11" plane through (0, 0, 0) normal (0, 0, -1) x (-1, 0, 0)
  circle A0 centre (0, 0) radius 12.5
  dimension "d37" = 25
extrude "Extrusion10" cut sketch "Skizze11" against normal blind 15
sketch "Skizze12" plane through (0, 0, 15) normal (0, 0, -1) x (-1, 0, 0)
  circle A0 centre (2, 0) radius 1.5
  circle A1 centre (-2, 0) radius 1.5
  circle A2 centre (0, 3) radius 1.5
  circle A3 centre (0, -3) radius 1.5
  point P0 (0, 0)
  dimension "d40" = 3
  dimension "d41" = 3
  dimension "d42" = 2
  dimension "d43" = 2
  dimension "d50" = 3
  dimension "d51" = 3
  dimension "d52" = 3
  dimension "d53" = 3
extrude "Extrusion11" add sketch "Skizze12" along normal blind 25
sketch "Skizze13" plane through (0, 0, 15) normal (0, 0, -1) x (-1, 0, 0)
  circle A0 centre (0, 0) radius 7.5
  circle A1 centre (0, 0) radius 6.5
  dimension "d46" = 15
  dimension "d47" = 13
extrude "Extrusion12" add sketch "Skizze13" along normal blind 15
sketch "Skizze14" plane through (0, 0, 0) normal (0, 0, -1) x (-1, 0, 0)
  circle A0 centre (0, 0) radius 29.5
  circle A1 centre (0, 0) radius 13
  circle A2 centre (-20, 0) radius 2.4585 projected
  circle A3 centre (20, 0) radius 2.4585 projected
  dimension "d54" = 26
  dimension "d55" = 59
extrude "Extrusion13" add sketch "Skizze14" along normal blind 0.5
sketch "Skizze15" plane through (0, 0, -0.5) normal (0, 0, -1) x (-1, 0, 0)
  circle A0 centre (-20, 0) radius 2.4585 projected
  circle A1 centre (20, 0) radius 2.4585 projected
  circle A2 centre (-20, 0) radius 2
  circle A3 centre (20, 0) radius 2
  point P0 (0, 0)
  dimension "d62" = 4
  dimension "d63" = 4
extrude "Extrusion14" add sketch "Skizze15" along normal blind 10 and the other way blind 20 contours A2 | A3
thread "Gewinde1" size "M4x0.5" class "6g" standard "ANSI Metric M Profile" length 50
thread "Gewinde2" size "M4x0.5" class "6g" standard "ANSI Metric M Profile" length 50
properties part number "503.024.01_Statuslampe"
